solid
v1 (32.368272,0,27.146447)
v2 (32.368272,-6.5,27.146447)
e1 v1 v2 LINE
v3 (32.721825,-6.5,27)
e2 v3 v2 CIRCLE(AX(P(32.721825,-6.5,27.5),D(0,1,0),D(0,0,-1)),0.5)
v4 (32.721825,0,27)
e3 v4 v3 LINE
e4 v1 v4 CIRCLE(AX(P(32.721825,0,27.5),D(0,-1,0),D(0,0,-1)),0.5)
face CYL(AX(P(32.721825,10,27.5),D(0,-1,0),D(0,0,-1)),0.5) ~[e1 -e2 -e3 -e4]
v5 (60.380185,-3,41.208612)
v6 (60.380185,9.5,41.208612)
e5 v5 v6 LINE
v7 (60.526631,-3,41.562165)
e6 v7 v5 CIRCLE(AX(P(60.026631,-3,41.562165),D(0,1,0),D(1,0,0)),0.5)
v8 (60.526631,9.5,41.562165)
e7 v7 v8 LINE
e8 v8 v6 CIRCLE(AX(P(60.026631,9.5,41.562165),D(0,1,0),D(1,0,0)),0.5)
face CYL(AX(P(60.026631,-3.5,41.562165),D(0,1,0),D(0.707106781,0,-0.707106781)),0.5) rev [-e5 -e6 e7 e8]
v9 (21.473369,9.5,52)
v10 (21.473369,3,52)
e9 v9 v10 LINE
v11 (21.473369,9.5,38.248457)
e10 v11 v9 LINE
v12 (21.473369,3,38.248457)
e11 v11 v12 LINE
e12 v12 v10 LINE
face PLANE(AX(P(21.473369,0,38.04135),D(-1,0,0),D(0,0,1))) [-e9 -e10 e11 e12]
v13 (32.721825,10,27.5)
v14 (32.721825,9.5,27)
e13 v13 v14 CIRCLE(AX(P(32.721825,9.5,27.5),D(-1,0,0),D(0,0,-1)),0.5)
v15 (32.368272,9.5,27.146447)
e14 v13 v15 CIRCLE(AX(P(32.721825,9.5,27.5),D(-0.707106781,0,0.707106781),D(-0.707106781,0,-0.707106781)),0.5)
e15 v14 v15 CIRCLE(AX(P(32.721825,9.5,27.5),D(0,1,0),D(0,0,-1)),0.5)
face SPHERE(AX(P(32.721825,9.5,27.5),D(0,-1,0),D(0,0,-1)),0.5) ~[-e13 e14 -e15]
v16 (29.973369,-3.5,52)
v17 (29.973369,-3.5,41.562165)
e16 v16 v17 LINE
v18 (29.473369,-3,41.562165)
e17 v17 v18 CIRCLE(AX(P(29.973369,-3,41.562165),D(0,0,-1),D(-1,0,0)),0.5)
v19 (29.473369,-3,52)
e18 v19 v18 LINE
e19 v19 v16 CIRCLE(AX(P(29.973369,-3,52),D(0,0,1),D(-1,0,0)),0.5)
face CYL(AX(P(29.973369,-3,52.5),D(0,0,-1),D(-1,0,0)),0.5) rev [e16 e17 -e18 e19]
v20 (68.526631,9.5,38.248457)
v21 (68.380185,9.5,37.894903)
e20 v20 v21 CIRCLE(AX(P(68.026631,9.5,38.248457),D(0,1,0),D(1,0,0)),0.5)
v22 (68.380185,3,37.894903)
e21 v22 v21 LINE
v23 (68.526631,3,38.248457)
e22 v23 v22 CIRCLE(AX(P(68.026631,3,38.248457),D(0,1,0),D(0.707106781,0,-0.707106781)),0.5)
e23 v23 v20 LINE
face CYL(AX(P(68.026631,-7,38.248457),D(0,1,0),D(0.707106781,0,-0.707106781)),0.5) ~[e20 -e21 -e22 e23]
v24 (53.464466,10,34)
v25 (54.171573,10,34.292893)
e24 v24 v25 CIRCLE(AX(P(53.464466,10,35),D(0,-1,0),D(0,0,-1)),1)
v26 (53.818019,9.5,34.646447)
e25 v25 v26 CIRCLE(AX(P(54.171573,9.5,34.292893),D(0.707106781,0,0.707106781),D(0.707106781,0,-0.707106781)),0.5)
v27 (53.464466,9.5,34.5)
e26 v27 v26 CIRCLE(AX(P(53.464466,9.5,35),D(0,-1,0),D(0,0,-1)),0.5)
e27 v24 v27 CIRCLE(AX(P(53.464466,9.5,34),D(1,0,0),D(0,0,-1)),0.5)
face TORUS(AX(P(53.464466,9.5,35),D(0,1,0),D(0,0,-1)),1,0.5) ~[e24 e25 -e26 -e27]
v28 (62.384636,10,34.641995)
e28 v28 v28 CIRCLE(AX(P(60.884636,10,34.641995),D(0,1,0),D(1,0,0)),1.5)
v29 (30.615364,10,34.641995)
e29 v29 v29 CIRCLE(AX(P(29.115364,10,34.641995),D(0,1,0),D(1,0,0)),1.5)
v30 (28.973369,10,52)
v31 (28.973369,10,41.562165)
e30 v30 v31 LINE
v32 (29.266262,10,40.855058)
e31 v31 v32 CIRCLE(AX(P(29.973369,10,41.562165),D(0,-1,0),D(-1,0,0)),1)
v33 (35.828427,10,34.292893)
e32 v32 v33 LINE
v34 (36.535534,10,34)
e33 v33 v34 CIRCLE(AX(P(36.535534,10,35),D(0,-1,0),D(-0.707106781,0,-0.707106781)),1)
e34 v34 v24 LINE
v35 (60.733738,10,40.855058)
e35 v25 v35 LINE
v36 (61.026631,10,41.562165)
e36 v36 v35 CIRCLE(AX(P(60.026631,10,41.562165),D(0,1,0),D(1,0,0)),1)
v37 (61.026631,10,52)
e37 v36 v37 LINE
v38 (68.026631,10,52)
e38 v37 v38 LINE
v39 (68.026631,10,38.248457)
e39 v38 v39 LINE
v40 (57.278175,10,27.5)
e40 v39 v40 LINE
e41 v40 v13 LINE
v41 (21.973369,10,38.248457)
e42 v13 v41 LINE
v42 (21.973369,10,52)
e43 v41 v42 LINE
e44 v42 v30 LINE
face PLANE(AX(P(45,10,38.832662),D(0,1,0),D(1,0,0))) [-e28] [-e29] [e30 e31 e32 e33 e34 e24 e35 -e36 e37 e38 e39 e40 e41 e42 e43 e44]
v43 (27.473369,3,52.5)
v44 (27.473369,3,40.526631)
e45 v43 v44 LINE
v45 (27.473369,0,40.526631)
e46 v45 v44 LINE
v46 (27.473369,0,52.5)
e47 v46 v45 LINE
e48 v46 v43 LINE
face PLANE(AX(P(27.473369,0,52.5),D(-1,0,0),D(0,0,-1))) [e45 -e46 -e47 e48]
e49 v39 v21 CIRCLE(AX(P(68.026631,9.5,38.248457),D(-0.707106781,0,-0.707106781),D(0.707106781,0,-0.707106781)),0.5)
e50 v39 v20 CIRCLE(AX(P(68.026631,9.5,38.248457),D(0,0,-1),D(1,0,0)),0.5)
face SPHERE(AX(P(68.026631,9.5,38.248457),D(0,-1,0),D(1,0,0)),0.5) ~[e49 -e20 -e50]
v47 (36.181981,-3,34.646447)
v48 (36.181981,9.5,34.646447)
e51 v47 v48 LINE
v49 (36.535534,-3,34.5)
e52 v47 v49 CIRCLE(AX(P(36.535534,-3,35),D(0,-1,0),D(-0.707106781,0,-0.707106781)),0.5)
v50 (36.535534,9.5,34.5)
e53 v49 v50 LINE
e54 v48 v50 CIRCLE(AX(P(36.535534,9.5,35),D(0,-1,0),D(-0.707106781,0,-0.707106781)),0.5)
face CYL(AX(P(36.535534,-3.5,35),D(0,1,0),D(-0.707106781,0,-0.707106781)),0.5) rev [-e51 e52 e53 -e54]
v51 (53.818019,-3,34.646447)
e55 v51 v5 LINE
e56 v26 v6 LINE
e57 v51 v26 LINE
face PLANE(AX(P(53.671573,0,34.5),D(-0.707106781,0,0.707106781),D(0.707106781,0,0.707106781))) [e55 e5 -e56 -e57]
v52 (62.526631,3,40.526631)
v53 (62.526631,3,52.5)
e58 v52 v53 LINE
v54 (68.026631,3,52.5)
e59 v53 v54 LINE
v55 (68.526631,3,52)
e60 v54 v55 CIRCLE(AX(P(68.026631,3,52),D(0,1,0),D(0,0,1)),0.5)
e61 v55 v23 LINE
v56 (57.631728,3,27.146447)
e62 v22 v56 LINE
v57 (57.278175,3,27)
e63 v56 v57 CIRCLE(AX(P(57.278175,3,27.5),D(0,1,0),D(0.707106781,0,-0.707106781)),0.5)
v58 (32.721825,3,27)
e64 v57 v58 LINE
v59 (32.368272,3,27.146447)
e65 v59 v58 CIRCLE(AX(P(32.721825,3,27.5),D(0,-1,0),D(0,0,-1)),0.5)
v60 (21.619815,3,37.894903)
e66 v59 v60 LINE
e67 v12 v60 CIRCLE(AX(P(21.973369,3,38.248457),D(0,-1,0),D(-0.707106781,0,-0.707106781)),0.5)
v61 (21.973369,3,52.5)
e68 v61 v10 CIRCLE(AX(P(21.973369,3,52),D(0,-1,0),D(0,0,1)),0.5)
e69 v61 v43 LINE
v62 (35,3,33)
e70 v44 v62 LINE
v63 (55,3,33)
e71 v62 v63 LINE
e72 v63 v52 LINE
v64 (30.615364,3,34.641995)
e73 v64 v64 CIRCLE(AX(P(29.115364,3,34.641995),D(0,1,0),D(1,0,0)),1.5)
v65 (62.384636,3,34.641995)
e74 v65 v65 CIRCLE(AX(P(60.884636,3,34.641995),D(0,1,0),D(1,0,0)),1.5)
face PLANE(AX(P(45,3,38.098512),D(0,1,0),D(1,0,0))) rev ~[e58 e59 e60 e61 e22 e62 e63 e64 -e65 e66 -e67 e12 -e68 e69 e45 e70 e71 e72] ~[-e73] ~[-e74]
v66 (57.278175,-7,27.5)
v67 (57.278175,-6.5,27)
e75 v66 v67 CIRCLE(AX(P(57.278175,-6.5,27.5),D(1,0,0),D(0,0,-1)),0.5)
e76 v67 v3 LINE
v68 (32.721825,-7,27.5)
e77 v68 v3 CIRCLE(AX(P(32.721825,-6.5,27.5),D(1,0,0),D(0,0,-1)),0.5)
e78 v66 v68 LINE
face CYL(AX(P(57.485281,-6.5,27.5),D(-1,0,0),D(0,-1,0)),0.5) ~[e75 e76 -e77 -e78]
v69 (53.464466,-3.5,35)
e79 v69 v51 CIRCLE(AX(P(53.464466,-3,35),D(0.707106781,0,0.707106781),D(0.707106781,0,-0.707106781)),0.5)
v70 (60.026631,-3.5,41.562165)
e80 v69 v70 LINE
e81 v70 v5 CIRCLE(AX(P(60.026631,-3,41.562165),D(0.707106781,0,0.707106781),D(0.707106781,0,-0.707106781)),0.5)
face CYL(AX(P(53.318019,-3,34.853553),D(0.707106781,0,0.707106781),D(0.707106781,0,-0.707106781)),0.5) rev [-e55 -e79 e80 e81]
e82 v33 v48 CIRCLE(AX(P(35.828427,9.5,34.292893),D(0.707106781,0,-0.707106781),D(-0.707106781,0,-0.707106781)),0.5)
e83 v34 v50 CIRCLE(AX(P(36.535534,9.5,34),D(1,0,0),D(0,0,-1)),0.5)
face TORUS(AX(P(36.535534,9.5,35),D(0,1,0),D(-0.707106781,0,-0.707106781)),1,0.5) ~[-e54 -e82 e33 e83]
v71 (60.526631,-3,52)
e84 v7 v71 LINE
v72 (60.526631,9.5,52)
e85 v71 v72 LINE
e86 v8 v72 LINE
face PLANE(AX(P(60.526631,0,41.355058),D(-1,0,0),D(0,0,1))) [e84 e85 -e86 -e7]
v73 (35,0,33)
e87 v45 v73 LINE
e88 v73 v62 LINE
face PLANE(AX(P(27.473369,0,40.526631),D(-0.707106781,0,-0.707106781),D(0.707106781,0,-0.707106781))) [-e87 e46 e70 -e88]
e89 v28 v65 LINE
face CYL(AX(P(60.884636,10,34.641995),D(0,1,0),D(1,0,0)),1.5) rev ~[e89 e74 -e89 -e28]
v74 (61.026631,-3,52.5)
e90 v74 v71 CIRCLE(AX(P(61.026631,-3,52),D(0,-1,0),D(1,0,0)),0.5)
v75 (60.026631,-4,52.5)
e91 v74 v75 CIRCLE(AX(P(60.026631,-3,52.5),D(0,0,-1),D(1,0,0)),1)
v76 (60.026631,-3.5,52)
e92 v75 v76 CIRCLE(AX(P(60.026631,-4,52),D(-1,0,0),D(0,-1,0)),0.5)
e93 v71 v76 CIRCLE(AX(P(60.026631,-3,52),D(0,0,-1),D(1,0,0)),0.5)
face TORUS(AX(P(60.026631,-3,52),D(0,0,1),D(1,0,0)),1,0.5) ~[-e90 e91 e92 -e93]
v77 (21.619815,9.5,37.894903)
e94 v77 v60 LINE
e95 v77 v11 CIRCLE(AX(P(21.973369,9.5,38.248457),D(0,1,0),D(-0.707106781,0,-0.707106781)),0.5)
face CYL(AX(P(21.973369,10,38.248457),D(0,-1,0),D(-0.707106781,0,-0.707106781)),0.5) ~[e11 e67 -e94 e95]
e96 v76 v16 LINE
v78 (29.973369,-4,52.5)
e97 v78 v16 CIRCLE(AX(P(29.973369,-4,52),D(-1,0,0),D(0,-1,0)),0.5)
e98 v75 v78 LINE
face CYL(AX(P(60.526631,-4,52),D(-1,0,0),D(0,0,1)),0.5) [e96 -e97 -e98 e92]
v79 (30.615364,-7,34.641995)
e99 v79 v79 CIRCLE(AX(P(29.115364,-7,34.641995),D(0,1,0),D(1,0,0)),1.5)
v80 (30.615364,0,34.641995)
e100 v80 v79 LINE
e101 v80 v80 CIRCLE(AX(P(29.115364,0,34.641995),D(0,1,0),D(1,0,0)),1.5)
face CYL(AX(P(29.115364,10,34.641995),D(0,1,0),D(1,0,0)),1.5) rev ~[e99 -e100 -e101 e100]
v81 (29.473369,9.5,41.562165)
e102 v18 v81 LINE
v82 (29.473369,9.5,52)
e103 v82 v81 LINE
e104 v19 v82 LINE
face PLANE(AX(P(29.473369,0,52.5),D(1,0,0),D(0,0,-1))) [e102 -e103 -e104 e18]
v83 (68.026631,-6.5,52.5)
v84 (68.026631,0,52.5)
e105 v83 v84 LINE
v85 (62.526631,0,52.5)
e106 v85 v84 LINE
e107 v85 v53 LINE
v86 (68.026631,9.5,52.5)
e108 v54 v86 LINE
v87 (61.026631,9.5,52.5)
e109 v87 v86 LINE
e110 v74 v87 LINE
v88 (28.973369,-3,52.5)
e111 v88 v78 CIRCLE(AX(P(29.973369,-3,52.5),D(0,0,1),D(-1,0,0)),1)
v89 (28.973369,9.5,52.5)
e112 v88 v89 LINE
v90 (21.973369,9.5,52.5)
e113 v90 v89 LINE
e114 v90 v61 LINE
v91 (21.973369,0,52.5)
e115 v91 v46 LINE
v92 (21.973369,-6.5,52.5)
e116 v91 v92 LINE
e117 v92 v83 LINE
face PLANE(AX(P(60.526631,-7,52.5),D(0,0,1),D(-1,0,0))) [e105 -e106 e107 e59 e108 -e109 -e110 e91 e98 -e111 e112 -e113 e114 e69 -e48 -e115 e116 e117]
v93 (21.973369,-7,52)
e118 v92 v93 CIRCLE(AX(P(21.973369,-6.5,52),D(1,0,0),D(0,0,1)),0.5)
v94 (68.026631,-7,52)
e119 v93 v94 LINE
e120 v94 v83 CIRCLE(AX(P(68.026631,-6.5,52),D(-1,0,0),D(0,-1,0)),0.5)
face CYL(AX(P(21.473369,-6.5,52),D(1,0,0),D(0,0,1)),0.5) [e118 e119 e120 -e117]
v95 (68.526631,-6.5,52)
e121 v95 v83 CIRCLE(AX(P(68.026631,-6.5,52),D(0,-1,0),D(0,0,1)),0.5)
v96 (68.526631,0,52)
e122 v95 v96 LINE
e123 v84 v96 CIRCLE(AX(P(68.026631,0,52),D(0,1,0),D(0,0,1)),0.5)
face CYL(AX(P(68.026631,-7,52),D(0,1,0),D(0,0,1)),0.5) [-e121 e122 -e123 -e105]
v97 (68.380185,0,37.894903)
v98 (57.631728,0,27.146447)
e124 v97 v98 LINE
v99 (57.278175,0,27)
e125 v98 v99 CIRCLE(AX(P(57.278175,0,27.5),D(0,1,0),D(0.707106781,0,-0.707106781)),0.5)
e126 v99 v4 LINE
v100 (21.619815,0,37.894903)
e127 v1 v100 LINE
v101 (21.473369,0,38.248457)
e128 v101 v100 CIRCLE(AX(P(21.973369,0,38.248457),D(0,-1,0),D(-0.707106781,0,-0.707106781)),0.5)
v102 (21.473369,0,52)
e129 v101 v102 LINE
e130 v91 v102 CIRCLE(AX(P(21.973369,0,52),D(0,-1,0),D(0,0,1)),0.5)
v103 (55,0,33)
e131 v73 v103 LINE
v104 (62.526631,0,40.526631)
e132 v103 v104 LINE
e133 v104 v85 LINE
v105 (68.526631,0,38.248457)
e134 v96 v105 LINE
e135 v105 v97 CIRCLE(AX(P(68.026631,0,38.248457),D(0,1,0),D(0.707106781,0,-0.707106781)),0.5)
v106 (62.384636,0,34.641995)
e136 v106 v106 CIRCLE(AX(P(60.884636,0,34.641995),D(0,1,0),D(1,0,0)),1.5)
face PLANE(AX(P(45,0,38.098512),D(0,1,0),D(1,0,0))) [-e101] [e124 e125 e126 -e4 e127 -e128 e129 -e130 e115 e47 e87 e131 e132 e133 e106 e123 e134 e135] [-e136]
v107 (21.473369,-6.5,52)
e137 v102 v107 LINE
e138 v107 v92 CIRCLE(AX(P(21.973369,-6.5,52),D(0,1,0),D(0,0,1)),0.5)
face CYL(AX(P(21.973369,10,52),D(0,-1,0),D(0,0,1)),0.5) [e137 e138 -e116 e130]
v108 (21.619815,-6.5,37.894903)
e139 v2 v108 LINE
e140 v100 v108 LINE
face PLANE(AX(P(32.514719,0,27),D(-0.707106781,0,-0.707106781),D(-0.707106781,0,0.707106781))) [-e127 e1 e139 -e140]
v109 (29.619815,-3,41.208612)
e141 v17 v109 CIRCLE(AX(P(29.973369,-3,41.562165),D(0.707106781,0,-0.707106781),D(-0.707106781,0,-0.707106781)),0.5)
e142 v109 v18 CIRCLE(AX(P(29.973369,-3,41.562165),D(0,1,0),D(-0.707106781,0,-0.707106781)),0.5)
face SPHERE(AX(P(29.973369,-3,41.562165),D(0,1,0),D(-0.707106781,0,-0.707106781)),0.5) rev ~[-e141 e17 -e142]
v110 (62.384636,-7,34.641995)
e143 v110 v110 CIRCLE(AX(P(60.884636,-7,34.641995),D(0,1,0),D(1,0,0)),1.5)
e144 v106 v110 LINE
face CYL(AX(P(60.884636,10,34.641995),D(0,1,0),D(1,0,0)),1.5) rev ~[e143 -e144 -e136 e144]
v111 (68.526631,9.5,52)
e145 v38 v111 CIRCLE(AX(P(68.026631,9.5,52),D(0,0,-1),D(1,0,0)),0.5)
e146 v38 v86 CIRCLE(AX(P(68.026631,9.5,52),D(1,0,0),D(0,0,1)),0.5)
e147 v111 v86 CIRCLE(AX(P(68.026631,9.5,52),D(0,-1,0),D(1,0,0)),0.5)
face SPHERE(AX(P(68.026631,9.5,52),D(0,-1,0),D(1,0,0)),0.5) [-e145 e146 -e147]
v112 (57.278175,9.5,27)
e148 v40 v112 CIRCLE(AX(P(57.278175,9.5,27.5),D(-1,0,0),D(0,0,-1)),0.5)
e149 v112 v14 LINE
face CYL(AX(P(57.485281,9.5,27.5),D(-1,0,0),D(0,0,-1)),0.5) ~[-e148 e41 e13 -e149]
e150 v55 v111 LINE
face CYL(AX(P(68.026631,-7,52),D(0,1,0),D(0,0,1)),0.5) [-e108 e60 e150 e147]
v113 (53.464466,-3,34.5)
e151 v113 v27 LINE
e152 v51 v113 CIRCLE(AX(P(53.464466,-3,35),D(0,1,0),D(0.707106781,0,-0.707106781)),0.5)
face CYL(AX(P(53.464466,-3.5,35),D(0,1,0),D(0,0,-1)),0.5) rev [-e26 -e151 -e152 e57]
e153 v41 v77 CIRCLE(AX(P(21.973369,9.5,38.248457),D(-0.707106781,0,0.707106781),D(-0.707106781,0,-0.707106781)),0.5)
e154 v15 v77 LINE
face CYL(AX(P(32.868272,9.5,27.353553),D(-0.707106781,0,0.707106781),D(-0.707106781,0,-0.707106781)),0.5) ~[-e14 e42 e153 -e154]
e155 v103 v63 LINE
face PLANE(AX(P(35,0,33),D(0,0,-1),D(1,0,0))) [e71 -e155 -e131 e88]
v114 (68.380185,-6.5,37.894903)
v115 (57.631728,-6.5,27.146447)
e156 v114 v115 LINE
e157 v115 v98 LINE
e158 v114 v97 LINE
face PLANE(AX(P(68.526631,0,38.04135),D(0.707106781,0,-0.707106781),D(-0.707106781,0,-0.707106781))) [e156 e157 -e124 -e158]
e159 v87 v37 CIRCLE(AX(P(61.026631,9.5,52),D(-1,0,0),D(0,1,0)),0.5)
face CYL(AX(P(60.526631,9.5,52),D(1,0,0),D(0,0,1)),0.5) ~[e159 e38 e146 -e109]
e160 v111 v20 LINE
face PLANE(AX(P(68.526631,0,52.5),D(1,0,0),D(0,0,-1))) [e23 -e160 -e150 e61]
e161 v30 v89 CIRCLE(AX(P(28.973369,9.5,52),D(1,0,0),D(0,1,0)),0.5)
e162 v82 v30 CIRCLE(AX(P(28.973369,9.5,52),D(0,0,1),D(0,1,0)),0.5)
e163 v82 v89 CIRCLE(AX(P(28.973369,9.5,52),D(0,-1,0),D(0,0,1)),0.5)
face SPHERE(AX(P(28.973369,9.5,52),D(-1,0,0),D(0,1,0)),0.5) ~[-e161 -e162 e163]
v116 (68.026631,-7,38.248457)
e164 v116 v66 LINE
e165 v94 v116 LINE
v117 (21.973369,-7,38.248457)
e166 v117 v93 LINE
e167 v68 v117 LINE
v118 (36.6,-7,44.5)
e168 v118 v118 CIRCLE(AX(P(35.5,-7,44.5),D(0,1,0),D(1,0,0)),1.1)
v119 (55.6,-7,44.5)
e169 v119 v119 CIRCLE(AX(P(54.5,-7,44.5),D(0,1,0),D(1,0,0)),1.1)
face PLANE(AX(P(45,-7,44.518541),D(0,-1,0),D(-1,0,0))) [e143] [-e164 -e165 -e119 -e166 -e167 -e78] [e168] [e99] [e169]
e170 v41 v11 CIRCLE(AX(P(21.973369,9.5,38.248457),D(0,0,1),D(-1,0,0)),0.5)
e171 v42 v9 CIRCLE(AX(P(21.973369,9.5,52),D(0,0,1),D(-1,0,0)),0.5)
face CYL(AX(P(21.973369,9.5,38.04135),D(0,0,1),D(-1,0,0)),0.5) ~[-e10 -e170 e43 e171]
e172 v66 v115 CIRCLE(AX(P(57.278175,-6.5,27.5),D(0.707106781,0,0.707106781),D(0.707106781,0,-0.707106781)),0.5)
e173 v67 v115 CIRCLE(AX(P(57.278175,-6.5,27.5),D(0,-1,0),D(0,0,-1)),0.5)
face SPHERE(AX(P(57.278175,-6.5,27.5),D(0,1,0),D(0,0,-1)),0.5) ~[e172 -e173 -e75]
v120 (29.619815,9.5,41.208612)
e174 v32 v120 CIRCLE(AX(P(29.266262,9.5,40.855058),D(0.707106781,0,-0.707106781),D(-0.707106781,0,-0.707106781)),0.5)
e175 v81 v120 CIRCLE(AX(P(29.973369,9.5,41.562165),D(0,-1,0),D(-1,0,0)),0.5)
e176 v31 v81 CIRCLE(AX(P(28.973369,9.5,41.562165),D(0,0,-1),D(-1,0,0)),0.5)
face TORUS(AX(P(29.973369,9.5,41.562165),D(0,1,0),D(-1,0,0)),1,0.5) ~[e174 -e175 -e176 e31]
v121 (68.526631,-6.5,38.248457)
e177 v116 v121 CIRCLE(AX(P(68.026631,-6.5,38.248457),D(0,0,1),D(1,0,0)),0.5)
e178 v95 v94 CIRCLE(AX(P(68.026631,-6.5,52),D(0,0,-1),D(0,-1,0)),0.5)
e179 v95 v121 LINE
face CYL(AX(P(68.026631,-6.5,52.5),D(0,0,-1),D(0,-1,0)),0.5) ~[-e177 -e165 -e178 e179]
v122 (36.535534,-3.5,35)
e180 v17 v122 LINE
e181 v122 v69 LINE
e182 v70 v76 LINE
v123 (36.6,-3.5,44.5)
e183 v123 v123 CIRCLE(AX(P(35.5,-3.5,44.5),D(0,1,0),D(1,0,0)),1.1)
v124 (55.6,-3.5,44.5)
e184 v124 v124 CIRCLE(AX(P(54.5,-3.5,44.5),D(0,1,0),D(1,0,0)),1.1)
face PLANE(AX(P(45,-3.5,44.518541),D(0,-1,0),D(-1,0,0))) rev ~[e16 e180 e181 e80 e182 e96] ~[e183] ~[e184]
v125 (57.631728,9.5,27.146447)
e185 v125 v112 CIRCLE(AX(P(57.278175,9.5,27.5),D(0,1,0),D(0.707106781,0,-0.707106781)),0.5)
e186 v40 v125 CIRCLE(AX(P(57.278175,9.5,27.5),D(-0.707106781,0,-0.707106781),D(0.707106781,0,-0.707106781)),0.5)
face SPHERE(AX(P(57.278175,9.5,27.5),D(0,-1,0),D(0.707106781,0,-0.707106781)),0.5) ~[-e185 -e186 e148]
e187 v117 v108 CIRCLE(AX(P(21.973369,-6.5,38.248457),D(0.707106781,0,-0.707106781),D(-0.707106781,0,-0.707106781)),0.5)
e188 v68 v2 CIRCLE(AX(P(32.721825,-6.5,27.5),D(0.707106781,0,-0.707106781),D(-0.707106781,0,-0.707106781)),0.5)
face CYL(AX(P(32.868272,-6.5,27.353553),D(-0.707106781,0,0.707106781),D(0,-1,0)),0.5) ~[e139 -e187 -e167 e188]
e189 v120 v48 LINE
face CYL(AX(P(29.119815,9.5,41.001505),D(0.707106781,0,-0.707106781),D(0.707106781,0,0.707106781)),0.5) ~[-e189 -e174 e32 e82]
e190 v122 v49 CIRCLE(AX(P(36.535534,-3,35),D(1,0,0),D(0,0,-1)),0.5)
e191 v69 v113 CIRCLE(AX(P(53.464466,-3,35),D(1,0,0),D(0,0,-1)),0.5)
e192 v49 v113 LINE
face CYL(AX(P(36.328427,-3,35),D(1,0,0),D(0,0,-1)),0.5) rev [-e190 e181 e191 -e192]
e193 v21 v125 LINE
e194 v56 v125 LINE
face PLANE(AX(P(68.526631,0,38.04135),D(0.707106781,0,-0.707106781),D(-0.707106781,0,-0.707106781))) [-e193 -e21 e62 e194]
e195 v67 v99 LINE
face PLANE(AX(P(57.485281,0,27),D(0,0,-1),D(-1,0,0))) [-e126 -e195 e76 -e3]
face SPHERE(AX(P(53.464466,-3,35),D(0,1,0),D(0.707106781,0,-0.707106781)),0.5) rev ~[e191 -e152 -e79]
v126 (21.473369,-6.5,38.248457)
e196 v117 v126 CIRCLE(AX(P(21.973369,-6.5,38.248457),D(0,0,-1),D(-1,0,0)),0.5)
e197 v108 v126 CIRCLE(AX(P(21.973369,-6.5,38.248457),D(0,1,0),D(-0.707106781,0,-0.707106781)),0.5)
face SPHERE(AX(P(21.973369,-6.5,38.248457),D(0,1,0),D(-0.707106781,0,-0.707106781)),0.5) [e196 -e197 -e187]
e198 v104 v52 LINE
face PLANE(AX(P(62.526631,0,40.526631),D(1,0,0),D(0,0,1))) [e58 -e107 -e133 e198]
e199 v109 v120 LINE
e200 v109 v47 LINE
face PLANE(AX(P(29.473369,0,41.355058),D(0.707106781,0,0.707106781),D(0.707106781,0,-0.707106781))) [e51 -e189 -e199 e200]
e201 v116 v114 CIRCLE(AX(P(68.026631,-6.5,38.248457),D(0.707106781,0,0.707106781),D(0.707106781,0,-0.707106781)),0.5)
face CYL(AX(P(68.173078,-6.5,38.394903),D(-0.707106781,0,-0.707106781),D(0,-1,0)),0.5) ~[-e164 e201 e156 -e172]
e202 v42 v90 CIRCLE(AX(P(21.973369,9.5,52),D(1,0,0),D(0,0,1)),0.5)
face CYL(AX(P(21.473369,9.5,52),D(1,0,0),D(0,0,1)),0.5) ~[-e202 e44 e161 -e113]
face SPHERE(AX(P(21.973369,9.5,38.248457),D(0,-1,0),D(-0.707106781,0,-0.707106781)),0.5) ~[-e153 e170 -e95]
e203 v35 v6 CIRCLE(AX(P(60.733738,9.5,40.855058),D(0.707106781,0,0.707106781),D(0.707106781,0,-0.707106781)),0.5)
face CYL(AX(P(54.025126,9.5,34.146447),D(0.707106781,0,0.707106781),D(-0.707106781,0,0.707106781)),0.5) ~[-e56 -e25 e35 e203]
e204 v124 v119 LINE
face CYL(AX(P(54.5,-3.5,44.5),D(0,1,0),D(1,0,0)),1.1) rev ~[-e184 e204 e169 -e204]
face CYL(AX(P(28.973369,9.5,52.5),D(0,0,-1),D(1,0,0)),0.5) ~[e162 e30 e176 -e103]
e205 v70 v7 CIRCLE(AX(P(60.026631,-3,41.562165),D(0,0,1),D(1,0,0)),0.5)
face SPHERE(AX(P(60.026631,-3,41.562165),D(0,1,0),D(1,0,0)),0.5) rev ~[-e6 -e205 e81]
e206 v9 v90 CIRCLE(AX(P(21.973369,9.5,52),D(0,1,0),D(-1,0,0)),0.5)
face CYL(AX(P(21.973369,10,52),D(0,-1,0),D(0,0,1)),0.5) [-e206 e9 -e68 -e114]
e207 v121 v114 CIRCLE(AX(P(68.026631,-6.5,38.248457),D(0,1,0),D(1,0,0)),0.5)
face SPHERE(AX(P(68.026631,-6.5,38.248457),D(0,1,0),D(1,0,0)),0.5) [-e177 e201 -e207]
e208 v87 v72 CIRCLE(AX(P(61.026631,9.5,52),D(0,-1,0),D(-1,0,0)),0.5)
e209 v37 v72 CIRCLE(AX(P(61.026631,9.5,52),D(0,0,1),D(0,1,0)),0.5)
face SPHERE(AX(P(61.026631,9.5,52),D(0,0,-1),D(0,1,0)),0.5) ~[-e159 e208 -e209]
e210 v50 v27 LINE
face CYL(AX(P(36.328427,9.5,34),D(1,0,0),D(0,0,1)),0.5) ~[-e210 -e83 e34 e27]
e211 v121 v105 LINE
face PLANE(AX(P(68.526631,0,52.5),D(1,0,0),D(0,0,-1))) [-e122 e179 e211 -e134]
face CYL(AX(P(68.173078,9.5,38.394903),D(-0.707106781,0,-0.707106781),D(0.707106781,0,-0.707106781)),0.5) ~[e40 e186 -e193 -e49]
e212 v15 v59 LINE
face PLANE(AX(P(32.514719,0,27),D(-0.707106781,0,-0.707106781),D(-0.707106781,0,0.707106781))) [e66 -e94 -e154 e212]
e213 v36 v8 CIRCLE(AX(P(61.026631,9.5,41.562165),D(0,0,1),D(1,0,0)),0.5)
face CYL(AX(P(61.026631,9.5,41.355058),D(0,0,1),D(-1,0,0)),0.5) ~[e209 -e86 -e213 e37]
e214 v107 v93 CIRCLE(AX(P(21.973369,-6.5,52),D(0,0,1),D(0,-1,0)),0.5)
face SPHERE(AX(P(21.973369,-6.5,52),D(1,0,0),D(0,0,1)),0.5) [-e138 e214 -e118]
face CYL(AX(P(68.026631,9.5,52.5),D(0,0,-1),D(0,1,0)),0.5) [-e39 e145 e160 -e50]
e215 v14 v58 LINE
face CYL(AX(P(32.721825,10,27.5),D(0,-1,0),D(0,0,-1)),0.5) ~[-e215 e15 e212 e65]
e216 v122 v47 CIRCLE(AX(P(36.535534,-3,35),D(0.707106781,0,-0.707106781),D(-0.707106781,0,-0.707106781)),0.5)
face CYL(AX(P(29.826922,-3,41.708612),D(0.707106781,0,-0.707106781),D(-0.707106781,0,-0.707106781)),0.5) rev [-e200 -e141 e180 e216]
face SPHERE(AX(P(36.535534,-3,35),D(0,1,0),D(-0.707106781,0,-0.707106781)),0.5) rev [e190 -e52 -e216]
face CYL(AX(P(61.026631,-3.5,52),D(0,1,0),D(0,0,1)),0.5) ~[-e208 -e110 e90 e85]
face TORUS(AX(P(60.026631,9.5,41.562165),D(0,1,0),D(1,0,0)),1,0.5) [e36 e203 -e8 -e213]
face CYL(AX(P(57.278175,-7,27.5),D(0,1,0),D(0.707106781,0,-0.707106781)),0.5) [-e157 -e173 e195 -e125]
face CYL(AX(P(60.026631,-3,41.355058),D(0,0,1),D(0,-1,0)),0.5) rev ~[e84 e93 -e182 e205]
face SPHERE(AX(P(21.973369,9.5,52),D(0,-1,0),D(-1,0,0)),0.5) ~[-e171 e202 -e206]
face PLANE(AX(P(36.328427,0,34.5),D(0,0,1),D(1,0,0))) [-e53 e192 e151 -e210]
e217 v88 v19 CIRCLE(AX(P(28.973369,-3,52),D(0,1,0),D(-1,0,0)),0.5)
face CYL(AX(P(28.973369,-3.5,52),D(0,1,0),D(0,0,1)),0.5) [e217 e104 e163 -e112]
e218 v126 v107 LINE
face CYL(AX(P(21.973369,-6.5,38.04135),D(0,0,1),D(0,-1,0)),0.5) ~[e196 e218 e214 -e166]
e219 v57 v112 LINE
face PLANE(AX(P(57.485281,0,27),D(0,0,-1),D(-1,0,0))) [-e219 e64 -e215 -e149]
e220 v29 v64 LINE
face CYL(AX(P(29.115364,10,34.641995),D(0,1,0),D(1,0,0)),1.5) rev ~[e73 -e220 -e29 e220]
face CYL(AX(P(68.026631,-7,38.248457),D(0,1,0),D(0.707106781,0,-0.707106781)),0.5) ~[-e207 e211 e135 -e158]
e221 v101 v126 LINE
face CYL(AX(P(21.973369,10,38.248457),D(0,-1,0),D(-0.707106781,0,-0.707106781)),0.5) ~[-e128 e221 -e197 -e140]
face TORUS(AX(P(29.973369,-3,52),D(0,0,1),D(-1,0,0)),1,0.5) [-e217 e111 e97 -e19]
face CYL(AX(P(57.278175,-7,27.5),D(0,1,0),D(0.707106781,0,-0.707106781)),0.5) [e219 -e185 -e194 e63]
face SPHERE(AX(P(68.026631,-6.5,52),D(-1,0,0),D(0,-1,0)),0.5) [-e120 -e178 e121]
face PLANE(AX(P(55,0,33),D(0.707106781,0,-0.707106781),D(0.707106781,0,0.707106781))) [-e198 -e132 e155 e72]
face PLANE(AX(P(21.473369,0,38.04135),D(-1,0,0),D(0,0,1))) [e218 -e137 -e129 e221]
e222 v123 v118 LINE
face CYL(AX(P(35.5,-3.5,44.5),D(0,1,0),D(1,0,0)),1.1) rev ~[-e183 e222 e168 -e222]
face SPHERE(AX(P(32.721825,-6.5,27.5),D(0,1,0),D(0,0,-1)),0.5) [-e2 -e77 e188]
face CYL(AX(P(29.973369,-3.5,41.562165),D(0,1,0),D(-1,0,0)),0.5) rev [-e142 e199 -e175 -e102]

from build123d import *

# Parameters (mm, degrees)
BOSS_EXTRUDE1_DEPTH      = 10
BOSS_EXTRUDE1_DEPTH_BACK = 7
BOSS_EXTRUDE4_START      = -7
BOSS_EXTRUDE4_DEPTH      = 3.5
FILLET1_R                = 0.5
CUT_EXTRUDE1_DEPTH       = 3
SKETCH2_R                = 1.5
CUT_EXTRUDE2_DEPTH       = 17
CUT_EXTRUDE3_START       = -3.5
SKETCH4_R                = 1.1
CUT_EXTRUDE3_DEPTH       = 3.5


with BuildPart() as part:
    # Sketch1 → Boss-Extrude1 (new body, two sides)
    with BuildSketch(Plane(origin=(0, 0, 0), x_dir=(1, 0, 0), z_dir=(0, 1, 0))) as boss_extrude1_sk:
        Polygon((21.473368866, -52.5), (29.473368866, -52.5), (29.473368866, -41.355058259), (36.328427125, -34.5), (53.671572875, -34.5), (60.526631134, -41.355058259), (60.526631134, -52.5), (68.526631134, -52.5), (68.526631134, -38.04134976), (57.485281374, -27), (32.514718626, -27), (21.473368866, -38.04134976), align=None)
    extrude(amount=BOSS_EXTRUDE1_DEPTH)
    extrude(boss_extrude1_sk.sketch, amount=-BOSS_EXTRUDE1_DEPTH_BACK)

    # Sketch1<5> → Boss-Extrude4 (add)
    with BuildSketch(Plane(origin=(0, 0, 0), x_dir=(1, 0, 0), z_dir=(0, 1, 0)).offset(BOSS_EXTRUDE4_START)):
        Polygon((60.526631134, -41.355058259), (60.526631134, -52.5), (29.473368866, -52.5), (29.473368866, -41.355058259), (36.328427125, -34.5), (53.671572875, -34.5), align=None)
    extrude(amount=BOSS_EXTRUDE4_DEPTH)

    # Fillet1
    fillet1_edges = [part.edges().sort_by_distance(p)[0] for p in [
        (45, -7, 52.5),
        (68.526631134, -7, 45.27067488),
        (63.005956254, -7, 32.52067488),
        (21.473368866, 1.5, 52.5),
        (21.473368866, 1.5, 38.04134976),
        (32.514718626, 1.5, 27),
        (57.485281374, 1.5, 27),
        (68.526631134, 1.5, 38.04134976),
        (68.526631134, 1.5, 52.5),
        (45, -7, 27),
        (26.994043746, -7, 32.52067488),
        (68.526631134, 10, 45.27067488),
        (63.005956254, 10, 32.52067488),
        (45, 10, 27),
        (26.994043746, 10, 32.52067488),
        (21.473368866, 10, 45.27067488),
        (25.473368866, 10, 52.5),
        (21.473368866, -7, 45.27067488),
        (60.526631134, 10, 46.927529129),
        (64.526631134, 10, 52.5),
        (29.473368866, 10, 46.927529129),
        (32.900897995, 10, 37.927529129),
        (45, 10, 34.5),
        (57.099102005, 10, 37.927529129),
        (60.526631134, 3.25, 52.5),
        (29.473368866, 3.25, 52.5),
        (29.473368866, 3.25, 41.355058259),
        (36.328427125, 3.25, 34.5),
        (53.671572875, 3.25, 34.5),
        (60.526631134, 3.25, 41.355058259),
        (45, -3.5, 52.5),
        (32.900897995, -3.5, 37.927529129),
        (29.473368866, -3.5, 46.927529129),
        (60.526631134, -3.5, 46.927529129),
        (57.099102005, -3.5, 37.927529129),
        (45, -3.5, 34.5),
    ]]
    fillet(fillet1_edges, radius=FILLET1_R)

    # Sketch1<3> → Cut-Extrude1 (cut)
    with BuildSketch(Plane(origin=(0, 0, 0), x_dir=(1, 0, 0), z_dir=(0, 1, 0))):
        Polygon((21.473368866, -52.5), (27.473368866, -52.5), (27.473368866, -40.526631134), (35, -33), (55, -33), (62.526631134, -40.526631134), (62.526631134, -52.5), (68.526631134, -52.5), (68.526631134, -38.04134976), (57.485281374, -27), (32.514718626, -27), (21.473368866, -38.04134976), align=None)
    extrude(amount=CUT_EXTRUDE1_DEPTH, mode=Mode.SUBTRACT)

    # Sketch2 → Cut-Extrude2 (cut)
    with BuildSketch(Plane(origin=(0, 10, 0), x_dir=(1, 0, 0), z_dir=(0, 1, 0))):
        with Locations((29.11536409, -34.641995223)):
            Circle(SKETCH2_R)
        with Locations((60.88463591, -34.641995223)):
            Circle(SKETCH2_R)
    extrude(amount=-CUT_EXTRUDE2_DEPTH, mode=Mode.SUBTRACT)

    # Sketch4 → Cut-Extrude3 (cut)
    with BuildSketch(Plane(origin=(0, 0, 0), x_dir=(1, 0, 0), z_dir=(0, 1, 0)).offset(CUT_EXTRUDE3_START)):
        with Locations((35.5, -44.5)):
            Circle(SKETCH4_R)
        with Locations((54.5, -44.5)):
            Circle(SKETCH4_R)
    extrude(amount=-CUT_EXTRUDE3_DEPTH, mode=Mode.SUBTRACT)


solid = part.part
